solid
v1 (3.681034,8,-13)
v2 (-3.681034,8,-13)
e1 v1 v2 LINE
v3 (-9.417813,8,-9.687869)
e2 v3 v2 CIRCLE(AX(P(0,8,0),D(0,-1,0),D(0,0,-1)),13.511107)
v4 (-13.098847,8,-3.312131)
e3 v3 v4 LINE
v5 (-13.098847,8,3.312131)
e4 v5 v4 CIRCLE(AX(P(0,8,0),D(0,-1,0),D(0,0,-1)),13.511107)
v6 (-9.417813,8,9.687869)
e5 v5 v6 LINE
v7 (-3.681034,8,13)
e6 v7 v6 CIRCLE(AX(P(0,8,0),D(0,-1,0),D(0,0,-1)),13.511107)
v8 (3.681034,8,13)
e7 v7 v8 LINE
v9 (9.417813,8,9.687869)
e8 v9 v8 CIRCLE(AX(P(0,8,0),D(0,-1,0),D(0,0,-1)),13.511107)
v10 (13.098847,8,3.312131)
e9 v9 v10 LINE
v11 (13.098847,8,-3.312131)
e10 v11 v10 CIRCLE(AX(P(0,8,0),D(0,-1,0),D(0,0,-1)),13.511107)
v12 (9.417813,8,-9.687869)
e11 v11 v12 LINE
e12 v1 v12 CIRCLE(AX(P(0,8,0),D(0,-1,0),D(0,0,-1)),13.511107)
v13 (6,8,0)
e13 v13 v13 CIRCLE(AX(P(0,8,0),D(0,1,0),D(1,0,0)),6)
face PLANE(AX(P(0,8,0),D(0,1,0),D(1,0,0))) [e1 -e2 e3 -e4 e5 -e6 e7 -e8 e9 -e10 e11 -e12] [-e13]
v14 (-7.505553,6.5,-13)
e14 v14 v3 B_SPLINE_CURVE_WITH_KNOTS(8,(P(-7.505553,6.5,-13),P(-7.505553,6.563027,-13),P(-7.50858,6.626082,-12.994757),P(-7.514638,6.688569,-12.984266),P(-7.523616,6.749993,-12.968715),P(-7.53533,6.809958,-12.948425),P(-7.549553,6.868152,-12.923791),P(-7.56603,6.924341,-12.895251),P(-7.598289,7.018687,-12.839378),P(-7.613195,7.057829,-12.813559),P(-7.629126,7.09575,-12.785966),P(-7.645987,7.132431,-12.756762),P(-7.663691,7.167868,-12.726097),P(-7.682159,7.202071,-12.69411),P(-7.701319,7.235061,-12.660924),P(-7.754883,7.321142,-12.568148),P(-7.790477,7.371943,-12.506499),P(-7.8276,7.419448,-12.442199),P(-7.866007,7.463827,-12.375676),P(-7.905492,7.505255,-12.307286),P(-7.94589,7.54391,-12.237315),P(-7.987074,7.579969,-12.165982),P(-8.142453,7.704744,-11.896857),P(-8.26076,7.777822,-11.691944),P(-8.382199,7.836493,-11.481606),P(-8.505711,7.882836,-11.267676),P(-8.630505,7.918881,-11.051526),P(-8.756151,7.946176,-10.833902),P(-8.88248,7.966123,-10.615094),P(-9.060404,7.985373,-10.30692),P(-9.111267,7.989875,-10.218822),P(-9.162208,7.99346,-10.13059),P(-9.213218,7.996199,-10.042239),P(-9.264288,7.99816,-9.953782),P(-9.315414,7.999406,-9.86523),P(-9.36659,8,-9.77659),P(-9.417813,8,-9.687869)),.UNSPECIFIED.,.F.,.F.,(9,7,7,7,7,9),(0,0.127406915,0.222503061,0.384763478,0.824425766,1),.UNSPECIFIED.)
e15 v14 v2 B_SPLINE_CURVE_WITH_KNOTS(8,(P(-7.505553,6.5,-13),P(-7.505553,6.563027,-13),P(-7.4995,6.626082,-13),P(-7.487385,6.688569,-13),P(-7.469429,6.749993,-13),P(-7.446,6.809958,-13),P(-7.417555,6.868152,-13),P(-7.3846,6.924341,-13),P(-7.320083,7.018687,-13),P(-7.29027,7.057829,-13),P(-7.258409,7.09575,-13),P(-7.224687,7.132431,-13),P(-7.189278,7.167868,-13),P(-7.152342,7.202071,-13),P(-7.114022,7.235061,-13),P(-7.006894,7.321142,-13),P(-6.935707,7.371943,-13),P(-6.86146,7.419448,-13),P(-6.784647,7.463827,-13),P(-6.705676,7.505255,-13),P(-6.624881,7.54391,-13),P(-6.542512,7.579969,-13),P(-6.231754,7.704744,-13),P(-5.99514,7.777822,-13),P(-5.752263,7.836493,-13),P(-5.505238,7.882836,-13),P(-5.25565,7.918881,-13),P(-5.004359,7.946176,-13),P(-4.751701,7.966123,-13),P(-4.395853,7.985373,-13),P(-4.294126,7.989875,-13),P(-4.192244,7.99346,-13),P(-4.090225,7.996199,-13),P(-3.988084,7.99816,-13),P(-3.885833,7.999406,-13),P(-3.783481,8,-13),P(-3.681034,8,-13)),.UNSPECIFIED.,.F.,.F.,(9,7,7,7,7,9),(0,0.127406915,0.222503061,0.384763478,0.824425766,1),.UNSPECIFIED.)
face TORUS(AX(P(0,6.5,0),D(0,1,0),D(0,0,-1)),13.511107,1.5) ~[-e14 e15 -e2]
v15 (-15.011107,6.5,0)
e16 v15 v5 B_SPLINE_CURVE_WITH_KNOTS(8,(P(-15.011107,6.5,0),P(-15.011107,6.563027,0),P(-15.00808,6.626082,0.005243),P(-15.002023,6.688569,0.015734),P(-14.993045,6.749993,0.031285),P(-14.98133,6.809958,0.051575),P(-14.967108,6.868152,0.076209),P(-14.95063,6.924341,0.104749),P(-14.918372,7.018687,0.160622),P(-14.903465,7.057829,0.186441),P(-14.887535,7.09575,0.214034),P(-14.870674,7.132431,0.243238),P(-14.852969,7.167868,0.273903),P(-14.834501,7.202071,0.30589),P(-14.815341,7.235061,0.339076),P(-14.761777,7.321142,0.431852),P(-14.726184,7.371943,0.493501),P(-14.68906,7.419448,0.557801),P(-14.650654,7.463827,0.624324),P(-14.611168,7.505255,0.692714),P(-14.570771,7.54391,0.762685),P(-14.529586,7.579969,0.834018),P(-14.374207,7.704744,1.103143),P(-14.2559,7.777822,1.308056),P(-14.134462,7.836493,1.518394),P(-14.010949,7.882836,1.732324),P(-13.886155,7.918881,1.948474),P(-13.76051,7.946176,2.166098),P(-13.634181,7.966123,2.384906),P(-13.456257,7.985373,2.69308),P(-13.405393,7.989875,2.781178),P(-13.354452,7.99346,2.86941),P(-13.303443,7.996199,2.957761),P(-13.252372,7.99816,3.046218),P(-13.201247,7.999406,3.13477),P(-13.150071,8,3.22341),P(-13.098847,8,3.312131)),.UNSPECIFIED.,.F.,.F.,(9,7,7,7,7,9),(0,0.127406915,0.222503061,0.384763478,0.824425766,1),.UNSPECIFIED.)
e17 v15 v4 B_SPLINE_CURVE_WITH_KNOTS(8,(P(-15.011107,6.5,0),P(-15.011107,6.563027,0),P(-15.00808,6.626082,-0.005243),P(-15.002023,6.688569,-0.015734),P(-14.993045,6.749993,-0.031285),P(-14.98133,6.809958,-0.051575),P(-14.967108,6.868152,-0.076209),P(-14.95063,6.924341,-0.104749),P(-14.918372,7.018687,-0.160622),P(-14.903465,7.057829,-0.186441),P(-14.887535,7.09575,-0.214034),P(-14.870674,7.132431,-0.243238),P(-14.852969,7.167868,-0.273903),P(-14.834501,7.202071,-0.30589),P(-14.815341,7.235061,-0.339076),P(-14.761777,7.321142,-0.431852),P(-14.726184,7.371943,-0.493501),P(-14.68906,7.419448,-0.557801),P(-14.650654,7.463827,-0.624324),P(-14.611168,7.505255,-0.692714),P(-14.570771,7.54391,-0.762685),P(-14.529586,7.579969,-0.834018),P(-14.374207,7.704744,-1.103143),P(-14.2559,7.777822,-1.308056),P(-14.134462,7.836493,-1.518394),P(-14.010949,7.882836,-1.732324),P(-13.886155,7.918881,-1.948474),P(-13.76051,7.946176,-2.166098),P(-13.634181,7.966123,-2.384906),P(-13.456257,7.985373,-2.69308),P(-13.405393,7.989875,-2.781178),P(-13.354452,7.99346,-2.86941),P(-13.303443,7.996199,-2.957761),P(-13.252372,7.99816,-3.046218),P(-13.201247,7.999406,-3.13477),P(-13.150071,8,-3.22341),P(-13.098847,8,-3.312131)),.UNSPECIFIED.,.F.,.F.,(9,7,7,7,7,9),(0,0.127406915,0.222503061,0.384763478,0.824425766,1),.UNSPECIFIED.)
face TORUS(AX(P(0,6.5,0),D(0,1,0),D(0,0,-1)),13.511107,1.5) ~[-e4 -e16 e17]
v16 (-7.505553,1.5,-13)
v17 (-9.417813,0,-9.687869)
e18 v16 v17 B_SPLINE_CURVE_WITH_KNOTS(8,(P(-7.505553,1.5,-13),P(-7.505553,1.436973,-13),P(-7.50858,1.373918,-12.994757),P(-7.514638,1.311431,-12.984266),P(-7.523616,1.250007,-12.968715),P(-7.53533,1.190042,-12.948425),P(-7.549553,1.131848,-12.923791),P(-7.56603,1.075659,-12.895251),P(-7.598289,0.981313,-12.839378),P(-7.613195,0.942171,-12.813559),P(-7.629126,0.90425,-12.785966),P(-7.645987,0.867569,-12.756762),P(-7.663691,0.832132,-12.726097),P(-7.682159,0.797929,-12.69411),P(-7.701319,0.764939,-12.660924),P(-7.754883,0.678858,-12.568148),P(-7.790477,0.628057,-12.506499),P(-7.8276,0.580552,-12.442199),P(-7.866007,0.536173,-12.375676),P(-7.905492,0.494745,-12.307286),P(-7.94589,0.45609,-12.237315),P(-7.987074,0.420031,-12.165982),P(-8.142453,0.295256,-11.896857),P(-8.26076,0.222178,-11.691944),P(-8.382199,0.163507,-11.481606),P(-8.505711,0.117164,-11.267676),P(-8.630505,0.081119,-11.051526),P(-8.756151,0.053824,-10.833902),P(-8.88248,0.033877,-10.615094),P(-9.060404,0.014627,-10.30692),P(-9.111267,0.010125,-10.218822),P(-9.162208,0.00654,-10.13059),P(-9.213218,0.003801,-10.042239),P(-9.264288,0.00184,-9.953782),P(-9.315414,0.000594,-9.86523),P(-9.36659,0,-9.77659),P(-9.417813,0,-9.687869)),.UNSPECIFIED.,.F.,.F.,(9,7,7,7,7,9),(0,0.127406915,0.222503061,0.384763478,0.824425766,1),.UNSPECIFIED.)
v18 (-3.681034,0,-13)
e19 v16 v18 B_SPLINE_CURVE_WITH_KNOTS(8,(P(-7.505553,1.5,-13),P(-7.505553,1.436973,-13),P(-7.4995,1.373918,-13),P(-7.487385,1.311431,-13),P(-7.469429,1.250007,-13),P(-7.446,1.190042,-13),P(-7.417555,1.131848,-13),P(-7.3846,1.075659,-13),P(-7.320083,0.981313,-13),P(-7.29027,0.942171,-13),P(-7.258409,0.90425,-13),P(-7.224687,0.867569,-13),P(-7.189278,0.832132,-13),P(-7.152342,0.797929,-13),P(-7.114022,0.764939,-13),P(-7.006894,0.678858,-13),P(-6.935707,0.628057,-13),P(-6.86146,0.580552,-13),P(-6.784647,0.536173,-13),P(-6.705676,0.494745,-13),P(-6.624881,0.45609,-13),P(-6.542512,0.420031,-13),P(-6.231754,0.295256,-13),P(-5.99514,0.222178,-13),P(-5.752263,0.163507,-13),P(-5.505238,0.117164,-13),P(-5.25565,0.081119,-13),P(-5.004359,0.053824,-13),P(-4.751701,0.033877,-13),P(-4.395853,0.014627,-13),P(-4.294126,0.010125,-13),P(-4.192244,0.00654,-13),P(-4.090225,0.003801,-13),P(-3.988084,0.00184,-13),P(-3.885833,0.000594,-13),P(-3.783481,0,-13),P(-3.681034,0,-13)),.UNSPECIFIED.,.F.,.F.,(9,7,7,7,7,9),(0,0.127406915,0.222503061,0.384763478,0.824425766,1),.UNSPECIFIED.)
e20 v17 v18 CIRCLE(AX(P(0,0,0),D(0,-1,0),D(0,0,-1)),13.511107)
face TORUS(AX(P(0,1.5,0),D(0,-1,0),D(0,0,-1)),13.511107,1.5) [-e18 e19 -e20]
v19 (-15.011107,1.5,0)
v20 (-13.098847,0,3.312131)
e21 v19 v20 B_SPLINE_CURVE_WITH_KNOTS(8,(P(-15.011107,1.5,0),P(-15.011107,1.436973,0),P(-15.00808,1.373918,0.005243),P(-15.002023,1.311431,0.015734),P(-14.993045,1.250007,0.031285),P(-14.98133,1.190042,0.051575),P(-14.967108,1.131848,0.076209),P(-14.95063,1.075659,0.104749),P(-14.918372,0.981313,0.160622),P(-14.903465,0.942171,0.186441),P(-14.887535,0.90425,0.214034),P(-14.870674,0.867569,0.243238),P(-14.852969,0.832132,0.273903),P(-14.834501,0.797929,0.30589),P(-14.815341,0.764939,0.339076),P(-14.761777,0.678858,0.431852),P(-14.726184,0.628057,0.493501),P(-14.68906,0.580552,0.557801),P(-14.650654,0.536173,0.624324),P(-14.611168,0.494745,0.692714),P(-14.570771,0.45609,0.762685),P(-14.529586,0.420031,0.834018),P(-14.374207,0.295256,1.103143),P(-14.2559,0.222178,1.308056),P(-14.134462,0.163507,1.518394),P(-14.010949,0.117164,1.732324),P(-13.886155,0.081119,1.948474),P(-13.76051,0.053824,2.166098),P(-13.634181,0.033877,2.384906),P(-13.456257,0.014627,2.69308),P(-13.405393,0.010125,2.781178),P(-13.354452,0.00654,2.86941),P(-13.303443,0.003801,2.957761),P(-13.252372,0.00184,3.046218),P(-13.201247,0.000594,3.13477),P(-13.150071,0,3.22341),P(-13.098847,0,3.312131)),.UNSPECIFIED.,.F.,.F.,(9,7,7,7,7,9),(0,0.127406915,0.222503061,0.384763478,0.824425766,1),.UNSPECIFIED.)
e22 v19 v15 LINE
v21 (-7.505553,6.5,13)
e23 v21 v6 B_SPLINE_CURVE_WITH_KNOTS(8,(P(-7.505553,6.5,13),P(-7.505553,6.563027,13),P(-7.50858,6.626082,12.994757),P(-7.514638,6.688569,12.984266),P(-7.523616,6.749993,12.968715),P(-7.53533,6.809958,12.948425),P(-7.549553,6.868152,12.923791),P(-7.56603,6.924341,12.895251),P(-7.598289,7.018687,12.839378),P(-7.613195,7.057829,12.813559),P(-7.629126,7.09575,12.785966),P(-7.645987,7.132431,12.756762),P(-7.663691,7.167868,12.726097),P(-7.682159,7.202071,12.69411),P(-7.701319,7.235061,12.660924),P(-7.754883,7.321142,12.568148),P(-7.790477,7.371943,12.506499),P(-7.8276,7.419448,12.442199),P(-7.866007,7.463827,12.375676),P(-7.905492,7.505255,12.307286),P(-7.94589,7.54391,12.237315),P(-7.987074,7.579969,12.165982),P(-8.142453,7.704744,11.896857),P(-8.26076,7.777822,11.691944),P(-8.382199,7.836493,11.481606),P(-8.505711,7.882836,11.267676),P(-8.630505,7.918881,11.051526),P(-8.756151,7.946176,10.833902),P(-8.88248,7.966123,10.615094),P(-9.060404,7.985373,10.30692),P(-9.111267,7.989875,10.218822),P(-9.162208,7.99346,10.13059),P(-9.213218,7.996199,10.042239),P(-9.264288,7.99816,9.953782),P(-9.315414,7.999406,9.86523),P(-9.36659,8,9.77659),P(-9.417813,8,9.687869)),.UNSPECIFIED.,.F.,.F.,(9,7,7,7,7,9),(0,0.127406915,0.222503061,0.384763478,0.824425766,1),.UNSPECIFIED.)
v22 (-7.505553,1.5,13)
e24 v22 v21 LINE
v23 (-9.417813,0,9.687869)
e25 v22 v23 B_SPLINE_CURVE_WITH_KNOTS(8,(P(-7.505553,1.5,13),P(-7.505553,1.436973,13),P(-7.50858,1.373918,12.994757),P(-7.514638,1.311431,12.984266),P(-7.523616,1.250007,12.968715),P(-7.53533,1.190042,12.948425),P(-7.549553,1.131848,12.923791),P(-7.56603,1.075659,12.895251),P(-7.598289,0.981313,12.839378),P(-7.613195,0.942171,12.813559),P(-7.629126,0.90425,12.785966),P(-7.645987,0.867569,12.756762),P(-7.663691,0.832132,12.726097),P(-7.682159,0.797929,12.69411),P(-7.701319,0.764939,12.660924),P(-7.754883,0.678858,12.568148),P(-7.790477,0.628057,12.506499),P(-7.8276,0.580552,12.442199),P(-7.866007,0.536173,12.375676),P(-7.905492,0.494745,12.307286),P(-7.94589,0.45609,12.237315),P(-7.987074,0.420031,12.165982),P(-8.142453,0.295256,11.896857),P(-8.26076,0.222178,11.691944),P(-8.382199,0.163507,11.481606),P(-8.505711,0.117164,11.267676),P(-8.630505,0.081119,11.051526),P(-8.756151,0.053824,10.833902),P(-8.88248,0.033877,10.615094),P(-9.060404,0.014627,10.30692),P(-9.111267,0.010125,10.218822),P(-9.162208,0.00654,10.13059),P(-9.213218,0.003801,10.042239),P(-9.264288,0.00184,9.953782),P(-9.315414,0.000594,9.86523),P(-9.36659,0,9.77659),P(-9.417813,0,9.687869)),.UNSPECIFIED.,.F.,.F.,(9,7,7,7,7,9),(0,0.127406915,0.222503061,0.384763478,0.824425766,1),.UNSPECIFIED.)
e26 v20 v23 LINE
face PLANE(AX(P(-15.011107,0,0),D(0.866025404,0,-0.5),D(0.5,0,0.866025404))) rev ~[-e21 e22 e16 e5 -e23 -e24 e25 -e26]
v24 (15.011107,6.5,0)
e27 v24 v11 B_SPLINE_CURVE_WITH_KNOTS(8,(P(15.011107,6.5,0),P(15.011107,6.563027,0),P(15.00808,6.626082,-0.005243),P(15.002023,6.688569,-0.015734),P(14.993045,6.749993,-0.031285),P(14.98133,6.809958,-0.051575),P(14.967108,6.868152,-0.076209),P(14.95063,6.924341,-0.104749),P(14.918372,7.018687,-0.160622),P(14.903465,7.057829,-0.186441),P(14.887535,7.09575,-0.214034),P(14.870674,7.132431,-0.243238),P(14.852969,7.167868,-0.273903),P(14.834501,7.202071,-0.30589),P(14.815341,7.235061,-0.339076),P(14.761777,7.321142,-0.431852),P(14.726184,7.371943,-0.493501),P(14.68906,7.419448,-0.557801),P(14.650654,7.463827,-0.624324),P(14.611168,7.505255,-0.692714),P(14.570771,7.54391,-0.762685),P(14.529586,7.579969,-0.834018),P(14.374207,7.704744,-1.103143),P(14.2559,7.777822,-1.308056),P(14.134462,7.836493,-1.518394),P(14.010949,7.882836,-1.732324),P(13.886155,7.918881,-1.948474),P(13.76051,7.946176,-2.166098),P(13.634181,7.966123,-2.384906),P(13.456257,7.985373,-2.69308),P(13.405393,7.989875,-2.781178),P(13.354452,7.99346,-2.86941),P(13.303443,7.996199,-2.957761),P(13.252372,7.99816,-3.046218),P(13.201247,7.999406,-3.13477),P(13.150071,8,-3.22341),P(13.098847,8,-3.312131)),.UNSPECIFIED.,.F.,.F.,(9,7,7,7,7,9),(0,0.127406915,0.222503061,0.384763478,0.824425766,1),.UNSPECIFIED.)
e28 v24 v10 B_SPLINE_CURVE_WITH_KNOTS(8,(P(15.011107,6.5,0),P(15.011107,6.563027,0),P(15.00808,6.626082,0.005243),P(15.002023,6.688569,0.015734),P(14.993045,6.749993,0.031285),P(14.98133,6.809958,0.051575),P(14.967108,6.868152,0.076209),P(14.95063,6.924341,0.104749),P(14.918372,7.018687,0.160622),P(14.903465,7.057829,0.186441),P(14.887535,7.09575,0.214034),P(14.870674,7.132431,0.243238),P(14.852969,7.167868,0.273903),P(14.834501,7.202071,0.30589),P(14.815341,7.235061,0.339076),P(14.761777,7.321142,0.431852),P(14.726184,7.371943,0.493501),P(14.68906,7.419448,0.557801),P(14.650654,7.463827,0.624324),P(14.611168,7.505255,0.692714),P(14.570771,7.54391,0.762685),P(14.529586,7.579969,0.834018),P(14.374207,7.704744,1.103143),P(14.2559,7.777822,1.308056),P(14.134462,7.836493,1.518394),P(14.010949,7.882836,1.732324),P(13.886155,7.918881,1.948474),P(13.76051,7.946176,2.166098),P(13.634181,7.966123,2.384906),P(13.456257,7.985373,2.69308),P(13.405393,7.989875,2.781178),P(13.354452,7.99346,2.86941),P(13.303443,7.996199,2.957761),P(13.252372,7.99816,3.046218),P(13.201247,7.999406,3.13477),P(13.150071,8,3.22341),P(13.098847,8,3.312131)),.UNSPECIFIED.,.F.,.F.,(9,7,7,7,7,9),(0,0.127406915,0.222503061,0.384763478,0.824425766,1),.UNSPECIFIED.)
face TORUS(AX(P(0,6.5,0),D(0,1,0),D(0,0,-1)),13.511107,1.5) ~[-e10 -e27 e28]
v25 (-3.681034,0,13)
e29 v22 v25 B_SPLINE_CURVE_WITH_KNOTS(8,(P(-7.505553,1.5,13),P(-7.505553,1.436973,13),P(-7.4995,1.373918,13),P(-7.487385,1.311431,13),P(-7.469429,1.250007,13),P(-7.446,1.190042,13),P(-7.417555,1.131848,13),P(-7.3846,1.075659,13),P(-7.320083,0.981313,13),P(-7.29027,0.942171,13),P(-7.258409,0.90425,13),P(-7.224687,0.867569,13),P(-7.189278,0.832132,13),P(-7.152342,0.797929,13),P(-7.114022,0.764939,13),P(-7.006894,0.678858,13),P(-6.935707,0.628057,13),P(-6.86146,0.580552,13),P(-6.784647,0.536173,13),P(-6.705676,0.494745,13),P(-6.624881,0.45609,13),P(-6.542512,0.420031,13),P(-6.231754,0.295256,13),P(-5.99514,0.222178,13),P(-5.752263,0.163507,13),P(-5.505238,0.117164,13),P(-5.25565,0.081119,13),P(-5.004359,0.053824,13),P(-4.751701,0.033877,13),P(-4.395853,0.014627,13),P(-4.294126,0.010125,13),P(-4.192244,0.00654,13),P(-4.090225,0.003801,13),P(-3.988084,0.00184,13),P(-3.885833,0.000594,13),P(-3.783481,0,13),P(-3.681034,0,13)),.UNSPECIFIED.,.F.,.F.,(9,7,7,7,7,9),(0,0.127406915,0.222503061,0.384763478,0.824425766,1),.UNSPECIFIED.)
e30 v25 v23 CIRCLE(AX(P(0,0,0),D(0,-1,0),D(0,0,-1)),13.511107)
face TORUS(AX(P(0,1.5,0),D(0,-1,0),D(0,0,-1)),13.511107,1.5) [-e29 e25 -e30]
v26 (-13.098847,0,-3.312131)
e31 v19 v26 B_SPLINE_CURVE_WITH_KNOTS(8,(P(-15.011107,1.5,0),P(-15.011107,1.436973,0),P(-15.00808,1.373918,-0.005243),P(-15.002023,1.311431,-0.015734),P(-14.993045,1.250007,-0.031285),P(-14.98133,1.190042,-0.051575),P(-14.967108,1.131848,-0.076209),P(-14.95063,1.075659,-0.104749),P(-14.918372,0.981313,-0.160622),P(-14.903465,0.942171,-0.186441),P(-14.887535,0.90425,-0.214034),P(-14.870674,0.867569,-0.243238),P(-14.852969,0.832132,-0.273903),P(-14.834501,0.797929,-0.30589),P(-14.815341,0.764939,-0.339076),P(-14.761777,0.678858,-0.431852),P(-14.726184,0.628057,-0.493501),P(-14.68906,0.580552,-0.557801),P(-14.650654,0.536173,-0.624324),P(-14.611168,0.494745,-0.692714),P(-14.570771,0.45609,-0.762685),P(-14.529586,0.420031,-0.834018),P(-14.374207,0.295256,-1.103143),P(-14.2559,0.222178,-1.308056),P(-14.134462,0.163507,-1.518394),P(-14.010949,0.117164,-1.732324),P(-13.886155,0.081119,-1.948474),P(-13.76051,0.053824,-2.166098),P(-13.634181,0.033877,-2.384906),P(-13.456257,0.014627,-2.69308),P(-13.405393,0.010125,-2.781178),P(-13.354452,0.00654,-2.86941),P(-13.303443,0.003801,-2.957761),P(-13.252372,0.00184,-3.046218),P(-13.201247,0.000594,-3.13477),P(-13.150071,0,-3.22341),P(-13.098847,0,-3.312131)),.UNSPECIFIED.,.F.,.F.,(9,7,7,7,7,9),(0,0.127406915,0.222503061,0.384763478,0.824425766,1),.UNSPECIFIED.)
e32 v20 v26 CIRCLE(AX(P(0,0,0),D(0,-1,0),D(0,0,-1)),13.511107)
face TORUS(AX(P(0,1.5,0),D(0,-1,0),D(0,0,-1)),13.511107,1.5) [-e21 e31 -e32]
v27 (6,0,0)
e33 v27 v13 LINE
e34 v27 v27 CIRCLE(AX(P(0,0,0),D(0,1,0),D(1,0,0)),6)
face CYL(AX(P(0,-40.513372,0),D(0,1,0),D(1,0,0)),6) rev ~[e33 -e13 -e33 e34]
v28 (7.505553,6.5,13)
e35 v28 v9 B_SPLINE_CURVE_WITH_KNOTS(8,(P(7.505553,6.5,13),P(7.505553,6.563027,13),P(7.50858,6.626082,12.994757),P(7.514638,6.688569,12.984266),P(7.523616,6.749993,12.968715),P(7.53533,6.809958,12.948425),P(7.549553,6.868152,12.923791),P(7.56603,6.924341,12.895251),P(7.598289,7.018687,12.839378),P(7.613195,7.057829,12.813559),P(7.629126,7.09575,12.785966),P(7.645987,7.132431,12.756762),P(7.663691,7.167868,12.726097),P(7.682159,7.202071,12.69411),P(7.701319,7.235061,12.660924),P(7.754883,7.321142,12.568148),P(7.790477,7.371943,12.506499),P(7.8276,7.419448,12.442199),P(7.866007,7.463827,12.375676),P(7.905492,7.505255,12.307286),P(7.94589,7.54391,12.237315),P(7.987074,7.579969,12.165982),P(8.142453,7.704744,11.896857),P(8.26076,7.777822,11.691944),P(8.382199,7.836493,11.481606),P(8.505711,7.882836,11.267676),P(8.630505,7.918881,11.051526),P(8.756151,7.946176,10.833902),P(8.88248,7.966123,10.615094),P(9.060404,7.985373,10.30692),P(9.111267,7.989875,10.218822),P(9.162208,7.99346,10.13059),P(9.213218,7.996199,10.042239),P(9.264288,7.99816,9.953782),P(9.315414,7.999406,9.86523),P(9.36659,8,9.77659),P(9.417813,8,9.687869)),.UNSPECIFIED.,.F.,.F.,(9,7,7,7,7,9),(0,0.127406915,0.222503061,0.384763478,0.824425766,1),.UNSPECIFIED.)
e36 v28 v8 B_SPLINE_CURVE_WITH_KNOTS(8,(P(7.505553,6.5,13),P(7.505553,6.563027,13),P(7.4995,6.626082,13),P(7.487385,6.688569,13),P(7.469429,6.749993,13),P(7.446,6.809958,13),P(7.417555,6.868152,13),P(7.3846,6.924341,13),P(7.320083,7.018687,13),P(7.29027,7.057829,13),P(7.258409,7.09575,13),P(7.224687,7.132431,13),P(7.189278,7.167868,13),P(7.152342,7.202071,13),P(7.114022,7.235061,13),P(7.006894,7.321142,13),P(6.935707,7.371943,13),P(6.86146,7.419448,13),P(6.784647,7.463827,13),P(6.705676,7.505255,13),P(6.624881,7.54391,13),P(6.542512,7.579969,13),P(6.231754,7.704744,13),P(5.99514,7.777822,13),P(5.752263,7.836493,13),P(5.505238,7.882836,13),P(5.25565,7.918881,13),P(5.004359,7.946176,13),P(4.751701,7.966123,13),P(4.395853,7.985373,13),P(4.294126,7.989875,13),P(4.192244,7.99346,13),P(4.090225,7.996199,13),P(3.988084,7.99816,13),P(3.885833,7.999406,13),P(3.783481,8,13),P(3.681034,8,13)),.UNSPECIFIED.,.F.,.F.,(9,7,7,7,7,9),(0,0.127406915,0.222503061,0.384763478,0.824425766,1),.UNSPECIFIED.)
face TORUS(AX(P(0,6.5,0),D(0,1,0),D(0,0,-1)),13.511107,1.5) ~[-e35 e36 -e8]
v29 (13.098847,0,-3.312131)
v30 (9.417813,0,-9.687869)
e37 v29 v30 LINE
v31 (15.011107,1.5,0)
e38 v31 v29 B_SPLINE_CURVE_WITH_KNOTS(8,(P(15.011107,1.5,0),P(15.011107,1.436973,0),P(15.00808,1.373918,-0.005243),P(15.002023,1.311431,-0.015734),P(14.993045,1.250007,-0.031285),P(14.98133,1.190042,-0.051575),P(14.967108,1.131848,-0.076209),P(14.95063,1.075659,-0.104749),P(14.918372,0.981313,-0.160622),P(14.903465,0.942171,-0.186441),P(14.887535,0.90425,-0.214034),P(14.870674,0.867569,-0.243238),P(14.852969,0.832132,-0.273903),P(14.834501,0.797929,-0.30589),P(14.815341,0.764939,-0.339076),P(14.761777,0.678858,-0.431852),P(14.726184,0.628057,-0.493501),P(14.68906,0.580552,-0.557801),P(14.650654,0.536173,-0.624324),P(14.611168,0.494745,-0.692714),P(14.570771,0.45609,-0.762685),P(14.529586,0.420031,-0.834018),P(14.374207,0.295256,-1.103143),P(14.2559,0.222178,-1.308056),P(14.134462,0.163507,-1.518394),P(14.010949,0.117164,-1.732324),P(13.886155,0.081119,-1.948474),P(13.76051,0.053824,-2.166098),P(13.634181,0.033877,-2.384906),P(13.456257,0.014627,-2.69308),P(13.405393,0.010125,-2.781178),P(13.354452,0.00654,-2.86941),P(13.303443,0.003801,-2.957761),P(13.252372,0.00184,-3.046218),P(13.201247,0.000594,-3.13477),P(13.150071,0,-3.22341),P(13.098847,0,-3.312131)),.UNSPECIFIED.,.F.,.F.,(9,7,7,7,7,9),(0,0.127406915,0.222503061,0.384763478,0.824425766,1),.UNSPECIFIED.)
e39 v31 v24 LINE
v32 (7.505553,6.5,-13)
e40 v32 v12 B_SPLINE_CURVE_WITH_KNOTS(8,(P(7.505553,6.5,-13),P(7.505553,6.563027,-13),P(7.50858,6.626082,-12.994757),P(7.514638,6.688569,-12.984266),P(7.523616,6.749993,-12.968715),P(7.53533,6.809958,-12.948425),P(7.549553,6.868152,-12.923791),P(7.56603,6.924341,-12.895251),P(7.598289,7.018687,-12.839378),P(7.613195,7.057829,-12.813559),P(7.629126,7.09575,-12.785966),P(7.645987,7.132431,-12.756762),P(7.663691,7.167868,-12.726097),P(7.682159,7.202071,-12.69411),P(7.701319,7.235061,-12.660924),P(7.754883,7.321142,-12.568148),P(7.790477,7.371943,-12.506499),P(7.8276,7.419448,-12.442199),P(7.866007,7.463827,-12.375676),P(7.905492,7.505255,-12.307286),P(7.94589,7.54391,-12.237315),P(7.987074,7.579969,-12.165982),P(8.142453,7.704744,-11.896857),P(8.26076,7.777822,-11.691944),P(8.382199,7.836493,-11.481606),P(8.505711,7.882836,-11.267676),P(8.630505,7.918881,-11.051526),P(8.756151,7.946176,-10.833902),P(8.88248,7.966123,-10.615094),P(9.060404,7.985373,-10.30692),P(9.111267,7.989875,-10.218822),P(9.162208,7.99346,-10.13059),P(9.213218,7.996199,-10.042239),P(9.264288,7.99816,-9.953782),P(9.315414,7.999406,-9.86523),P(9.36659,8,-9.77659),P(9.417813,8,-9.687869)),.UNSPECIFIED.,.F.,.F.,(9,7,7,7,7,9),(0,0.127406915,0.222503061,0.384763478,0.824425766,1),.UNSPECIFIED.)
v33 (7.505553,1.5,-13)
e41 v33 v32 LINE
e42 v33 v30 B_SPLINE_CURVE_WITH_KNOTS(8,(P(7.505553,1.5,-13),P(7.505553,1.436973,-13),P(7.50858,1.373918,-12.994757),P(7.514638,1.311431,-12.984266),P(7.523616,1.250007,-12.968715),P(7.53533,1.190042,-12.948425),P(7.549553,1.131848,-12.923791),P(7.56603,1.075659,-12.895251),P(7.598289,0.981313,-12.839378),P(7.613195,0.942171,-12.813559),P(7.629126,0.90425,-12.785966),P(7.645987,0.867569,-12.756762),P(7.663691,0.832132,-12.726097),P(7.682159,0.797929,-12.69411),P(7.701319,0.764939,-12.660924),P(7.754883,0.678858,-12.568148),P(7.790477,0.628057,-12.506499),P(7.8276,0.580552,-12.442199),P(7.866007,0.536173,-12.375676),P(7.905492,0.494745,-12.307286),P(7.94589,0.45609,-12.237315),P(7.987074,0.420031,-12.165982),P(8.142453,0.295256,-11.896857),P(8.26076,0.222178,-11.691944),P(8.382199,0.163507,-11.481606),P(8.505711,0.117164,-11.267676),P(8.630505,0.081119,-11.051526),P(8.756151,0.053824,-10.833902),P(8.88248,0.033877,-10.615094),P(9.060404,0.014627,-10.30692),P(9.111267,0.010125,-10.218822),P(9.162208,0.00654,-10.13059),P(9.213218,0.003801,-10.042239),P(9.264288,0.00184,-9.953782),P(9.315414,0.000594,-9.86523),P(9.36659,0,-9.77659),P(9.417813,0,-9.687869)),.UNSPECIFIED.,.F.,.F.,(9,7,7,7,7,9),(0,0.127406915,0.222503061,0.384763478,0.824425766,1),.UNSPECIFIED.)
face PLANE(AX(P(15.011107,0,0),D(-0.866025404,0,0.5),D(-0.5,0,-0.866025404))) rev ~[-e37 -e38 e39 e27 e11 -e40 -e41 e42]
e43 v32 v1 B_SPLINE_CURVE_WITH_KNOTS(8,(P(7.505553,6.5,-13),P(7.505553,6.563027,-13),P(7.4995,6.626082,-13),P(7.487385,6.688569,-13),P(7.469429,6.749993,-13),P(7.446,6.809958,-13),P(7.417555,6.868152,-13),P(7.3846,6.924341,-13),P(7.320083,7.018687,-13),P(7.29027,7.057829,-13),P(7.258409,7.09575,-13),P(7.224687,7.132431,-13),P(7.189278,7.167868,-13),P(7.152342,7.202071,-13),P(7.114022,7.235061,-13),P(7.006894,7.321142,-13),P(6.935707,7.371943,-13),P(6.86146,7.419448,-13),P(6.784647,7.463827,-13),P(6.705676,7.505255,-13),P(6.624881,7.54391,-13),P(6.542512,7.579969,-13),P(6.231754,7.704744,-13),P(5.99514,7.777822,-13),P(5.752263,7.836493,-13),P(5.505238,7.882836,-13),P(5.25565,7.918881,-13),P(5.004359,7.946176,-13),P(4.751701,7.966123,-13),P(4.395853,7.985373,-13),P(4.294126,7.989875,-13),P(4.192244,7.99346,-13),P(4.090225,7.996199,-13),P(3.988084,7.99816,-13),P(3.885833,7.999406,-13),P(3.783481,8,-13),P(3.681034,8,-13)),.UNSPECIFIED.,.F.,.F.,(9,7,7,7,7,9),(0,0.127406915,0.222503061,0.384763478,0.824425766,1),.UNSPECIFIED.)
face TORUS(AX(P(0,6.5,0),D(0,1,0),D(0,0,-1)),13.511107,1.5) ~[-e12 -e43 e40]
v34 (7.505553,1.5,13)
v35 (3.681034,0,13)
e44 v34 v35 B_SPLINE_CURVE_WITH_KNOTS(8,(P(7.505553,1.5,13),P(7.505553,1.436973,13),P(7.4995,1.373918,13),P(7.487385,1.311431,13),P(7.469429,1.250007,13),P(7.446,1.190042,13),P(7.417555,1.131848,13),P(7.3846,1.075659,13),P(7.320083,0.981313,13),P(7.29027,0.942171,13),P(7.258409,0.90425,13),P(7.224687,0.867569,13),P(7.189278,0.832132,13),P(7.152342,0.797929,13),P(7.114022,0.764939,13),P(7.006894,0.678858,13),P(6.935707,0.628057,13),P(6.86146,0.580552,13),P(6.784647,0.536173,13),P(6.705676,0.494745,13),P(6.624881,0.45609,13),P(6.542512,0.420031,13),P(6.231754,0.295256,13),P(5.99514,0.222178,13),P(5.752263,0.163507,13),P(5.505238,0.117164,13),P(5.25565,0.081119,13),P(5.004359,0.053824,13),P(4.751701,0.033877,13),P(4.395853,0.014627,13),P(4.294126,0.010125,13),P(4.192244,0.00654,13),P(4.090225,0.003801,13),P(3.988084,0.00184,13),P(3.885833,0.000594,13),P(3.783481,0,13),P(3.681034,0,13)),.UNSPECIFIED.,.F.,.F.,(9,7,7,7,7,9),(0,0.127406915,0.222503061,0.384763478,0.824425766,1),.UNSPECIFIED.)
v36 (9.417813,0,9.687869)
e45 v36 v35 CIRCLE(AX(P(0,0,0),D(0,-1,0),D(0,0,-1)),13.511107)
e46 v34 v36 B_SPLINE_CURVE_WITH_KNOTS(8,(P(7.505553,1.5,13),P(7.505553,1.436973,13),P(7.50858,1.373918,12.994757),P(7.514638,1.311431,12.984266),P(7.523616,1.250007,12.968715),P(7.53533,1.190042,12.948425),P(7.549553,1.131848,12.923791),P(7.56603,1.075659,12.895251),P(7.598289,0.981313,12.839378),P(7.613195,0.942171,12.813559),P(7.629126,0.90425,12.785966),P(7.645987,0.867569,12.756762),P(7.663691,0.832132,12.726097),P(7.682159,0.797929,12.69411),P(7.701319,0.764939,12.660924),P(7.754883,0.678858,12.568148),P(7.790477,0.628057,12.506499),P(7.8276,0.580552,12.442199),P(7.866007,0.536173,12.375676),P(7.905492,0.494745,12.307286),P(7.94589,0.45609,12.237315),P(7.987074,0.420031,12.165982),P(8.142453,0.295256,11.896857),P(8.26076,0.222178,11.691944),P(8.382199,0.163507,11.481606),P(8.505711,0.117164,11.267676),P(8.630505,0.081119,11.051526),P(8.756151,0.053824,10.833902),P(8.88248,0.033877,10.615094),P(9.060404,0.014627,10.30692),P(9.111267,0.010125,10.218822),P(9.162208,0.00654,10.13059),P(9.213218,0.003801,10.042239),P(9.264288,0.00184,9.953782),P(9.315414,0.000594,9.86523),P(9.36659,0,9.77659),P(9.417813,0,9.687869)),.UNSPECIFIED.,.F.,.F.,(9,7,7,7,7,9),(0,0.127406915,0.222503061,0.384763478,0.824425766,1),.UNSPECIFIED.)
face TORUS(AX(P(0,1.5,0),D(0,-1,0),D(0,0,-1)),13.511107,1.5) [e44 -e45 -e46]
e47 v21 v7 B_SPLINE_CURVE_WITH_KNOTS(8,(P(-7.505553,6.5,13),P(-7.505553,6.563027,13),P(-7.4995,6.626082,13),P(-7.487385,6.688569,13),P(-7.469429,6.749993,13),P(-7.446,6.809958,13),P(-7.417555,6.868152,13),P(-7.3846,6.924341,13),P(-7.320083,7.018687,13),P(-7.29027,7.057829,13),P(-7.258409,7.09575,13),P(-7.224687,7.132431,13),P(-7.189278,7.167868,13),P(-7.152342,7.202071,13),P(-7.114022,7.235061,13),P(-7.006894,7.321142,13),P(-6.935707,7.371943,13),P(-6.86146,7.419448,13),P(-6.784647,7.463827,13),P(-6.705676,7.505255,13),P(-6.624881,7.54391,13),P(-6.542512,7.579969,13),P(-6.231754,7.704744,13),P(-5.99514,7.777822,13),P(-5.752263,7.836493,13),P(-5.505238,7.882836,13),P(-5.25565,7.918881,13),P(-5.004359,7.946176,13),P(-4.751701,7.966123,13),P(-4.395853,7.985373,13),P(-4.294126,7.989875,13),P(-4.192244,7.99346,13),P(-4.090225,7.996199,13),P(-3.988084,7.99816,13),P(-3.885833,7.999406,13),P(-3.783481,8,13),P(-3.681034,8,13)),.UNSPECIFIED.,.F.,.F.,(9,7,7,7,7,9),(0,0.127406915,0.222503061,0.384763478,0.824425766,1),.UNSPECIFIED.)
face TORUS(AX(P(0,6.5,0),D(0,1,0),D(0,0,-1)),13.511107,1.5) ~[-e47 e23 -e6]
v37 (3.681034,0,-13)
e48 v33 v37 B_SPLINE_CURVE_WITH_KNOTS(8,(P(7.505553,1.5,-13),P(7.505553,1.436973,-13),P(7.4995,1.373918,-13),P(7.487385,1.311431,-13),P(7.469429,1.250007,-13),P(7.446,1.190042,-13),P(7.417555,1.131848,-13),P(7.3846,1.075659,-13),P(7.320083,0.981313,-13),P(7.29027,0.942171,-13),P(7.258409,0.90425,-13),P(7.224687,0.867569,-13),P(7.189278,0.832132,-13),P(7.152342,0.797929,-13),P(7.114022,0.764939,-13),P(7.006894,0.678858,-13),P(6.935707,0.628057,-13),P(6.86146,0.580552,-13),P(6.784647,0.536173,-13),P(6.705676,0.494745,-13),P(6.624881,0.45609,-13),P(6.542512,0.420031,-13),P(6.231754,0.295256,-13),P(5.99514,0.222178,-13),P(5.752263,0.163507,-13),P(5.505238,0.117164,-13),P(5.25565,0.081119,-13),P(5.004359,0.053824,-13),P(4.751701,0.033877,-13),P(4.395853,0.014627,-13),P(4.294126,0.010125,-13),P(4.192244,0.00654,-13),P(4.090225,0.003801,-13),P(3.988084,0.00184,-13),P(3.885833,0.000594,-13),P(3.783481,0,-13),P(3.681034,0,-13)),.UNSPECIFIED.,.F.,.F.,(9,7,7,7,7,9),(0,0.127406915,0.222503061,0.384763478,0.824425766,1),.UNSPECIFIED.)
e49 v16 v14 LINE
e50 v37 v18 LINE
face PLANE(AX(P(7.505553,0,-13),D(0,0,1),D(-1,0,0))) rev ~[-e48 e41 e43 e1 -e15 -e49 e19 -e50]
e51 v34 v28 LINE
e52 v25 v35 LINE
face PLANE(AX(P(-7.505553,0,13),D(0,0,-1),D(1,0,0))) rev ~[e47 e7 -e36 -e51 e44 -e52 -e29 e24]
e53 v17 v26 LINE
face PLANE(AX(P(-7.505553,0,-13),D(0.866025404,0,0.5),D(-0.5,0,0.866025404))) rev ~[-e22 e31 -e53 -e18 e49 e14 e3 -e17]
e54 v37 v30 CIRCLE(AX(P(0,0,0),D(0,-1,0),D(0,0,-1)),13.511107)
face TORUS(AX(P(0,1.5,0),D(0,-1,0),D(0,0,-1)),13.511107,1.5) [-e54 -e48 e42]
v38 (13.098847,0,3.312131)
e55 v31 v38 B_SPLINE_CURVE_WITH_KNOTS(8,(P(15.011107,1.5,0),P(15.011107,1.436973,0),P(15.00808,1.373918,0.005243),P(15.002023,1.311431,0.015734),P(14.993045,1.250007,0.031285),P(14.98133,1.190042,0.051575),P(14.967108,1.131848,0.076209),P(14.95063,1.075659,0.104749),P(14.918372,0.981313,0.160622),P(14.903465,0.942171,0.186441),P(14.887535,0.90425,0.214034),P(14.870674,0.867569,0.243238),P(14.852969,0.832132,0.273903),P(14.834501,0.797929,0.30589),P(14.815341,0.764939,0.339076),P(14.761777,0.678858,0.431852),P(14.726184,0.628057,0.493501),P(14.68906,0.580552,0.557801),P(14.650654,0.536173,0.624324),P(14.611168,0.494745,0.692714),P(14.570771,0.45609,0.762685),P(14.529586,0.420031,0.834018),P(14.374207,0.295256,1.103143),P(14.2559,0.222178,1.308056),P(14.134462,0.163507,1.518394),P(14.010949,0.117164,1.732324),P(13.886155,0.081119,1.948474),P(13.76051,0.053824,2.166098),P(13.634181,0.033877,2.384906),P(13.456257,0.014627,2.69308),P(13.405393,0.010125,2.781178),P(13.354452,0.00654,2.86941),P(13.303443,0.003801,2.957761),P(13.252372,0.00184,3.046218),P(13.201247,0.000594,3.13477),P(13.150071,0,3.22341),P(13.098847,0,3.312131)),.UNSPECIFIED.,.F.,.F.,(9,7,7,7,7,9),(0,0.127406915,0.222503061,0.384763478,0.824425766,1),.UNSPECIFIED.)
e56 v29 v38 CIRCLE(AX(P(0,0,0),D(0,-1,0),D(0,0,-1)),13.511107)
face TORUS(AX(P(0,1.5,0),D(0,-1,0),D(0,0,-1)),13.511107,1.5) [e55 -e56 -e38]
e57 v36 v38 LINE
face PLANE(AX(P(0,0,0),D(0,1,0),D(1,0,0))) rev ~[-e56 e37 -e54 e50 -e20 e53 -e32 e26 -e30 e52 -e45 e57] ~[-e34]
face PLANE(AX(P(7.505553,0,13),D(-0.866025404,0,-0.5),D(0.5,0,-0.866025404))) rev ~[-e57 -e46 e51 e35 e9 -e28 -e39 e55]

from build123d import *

# Parameters (mm, degrees)
BOSS_EXTRUDE1_DEPTH    = 8
F_12_0MM_DOWEL_HOLE1_D = 12


with BuildPart() as part:
    # Sketch1 → Boss-Extrude1 (new body)
    with BuildSketch(Plane(origin=(0, 0, 0), x_dir=(1, 0, 0), z_dir=(0, 1, 0))):
        Polygon((7.505553499, 13), (-7.505553499, 13), (-15.011106999, 0), (-7.505553499, -13), (7.505553499, -13), (15.011106999, 0), align=None)
    extrude(amount=BOSS_EXTRUDE1_DEPTH)

    # Ø12.0mm Dowel Hole1 (through all)
    with Locations(Plane(origin=(0, 0, 0), x_dir=(-1, 0, 0), z_dir=(0, -1, 0))):
        with Locations((0, 0)):
            Hole(F_12_0MM_DOWEL_HOLE1_D / 2)

    # Sketch4 → Cut-Revolve2 (revolve, cut)
    with BuildSketch(Plane.XY, mode=Mode.PRIVATE) as cut_revolve2_sk:
        with BuildLine():
            Line((20.381381373, -9.532480394), (20.381381373, 1.5))
            Line((20.381381373, 1.5), (15.011106999, 1.5))
            ThreePointArc((15.011106999, 1.5), (14.571767171, 0.439339828), (13.511106999, 0))
            Line((13.511106999, 0), (13.511106999, -9.532480394))
            Line((13.511106999, -9.532480394), (20.381381373, -9.532480394))
        make_face()
    cut_revolve2 = revolve(cut_revolve2_sk.sketch.rotate(Axis((0, 14.406395282, 0), (0, -1, 0)), 270), axis=Axis((0, 14.406395282, 0), (0, -1, 0)), mode=Mode.SUBTRACT)

    # Mirror1: Cut-Revolve2 across plane
    add(cut_revolve2.mirror(Plane(origin=(0, 4, 0), x_dir=(0, 0, 1), z_dir=(0, -1, 0))), mode=Mode.SUBTRACT)


solid = part.part
